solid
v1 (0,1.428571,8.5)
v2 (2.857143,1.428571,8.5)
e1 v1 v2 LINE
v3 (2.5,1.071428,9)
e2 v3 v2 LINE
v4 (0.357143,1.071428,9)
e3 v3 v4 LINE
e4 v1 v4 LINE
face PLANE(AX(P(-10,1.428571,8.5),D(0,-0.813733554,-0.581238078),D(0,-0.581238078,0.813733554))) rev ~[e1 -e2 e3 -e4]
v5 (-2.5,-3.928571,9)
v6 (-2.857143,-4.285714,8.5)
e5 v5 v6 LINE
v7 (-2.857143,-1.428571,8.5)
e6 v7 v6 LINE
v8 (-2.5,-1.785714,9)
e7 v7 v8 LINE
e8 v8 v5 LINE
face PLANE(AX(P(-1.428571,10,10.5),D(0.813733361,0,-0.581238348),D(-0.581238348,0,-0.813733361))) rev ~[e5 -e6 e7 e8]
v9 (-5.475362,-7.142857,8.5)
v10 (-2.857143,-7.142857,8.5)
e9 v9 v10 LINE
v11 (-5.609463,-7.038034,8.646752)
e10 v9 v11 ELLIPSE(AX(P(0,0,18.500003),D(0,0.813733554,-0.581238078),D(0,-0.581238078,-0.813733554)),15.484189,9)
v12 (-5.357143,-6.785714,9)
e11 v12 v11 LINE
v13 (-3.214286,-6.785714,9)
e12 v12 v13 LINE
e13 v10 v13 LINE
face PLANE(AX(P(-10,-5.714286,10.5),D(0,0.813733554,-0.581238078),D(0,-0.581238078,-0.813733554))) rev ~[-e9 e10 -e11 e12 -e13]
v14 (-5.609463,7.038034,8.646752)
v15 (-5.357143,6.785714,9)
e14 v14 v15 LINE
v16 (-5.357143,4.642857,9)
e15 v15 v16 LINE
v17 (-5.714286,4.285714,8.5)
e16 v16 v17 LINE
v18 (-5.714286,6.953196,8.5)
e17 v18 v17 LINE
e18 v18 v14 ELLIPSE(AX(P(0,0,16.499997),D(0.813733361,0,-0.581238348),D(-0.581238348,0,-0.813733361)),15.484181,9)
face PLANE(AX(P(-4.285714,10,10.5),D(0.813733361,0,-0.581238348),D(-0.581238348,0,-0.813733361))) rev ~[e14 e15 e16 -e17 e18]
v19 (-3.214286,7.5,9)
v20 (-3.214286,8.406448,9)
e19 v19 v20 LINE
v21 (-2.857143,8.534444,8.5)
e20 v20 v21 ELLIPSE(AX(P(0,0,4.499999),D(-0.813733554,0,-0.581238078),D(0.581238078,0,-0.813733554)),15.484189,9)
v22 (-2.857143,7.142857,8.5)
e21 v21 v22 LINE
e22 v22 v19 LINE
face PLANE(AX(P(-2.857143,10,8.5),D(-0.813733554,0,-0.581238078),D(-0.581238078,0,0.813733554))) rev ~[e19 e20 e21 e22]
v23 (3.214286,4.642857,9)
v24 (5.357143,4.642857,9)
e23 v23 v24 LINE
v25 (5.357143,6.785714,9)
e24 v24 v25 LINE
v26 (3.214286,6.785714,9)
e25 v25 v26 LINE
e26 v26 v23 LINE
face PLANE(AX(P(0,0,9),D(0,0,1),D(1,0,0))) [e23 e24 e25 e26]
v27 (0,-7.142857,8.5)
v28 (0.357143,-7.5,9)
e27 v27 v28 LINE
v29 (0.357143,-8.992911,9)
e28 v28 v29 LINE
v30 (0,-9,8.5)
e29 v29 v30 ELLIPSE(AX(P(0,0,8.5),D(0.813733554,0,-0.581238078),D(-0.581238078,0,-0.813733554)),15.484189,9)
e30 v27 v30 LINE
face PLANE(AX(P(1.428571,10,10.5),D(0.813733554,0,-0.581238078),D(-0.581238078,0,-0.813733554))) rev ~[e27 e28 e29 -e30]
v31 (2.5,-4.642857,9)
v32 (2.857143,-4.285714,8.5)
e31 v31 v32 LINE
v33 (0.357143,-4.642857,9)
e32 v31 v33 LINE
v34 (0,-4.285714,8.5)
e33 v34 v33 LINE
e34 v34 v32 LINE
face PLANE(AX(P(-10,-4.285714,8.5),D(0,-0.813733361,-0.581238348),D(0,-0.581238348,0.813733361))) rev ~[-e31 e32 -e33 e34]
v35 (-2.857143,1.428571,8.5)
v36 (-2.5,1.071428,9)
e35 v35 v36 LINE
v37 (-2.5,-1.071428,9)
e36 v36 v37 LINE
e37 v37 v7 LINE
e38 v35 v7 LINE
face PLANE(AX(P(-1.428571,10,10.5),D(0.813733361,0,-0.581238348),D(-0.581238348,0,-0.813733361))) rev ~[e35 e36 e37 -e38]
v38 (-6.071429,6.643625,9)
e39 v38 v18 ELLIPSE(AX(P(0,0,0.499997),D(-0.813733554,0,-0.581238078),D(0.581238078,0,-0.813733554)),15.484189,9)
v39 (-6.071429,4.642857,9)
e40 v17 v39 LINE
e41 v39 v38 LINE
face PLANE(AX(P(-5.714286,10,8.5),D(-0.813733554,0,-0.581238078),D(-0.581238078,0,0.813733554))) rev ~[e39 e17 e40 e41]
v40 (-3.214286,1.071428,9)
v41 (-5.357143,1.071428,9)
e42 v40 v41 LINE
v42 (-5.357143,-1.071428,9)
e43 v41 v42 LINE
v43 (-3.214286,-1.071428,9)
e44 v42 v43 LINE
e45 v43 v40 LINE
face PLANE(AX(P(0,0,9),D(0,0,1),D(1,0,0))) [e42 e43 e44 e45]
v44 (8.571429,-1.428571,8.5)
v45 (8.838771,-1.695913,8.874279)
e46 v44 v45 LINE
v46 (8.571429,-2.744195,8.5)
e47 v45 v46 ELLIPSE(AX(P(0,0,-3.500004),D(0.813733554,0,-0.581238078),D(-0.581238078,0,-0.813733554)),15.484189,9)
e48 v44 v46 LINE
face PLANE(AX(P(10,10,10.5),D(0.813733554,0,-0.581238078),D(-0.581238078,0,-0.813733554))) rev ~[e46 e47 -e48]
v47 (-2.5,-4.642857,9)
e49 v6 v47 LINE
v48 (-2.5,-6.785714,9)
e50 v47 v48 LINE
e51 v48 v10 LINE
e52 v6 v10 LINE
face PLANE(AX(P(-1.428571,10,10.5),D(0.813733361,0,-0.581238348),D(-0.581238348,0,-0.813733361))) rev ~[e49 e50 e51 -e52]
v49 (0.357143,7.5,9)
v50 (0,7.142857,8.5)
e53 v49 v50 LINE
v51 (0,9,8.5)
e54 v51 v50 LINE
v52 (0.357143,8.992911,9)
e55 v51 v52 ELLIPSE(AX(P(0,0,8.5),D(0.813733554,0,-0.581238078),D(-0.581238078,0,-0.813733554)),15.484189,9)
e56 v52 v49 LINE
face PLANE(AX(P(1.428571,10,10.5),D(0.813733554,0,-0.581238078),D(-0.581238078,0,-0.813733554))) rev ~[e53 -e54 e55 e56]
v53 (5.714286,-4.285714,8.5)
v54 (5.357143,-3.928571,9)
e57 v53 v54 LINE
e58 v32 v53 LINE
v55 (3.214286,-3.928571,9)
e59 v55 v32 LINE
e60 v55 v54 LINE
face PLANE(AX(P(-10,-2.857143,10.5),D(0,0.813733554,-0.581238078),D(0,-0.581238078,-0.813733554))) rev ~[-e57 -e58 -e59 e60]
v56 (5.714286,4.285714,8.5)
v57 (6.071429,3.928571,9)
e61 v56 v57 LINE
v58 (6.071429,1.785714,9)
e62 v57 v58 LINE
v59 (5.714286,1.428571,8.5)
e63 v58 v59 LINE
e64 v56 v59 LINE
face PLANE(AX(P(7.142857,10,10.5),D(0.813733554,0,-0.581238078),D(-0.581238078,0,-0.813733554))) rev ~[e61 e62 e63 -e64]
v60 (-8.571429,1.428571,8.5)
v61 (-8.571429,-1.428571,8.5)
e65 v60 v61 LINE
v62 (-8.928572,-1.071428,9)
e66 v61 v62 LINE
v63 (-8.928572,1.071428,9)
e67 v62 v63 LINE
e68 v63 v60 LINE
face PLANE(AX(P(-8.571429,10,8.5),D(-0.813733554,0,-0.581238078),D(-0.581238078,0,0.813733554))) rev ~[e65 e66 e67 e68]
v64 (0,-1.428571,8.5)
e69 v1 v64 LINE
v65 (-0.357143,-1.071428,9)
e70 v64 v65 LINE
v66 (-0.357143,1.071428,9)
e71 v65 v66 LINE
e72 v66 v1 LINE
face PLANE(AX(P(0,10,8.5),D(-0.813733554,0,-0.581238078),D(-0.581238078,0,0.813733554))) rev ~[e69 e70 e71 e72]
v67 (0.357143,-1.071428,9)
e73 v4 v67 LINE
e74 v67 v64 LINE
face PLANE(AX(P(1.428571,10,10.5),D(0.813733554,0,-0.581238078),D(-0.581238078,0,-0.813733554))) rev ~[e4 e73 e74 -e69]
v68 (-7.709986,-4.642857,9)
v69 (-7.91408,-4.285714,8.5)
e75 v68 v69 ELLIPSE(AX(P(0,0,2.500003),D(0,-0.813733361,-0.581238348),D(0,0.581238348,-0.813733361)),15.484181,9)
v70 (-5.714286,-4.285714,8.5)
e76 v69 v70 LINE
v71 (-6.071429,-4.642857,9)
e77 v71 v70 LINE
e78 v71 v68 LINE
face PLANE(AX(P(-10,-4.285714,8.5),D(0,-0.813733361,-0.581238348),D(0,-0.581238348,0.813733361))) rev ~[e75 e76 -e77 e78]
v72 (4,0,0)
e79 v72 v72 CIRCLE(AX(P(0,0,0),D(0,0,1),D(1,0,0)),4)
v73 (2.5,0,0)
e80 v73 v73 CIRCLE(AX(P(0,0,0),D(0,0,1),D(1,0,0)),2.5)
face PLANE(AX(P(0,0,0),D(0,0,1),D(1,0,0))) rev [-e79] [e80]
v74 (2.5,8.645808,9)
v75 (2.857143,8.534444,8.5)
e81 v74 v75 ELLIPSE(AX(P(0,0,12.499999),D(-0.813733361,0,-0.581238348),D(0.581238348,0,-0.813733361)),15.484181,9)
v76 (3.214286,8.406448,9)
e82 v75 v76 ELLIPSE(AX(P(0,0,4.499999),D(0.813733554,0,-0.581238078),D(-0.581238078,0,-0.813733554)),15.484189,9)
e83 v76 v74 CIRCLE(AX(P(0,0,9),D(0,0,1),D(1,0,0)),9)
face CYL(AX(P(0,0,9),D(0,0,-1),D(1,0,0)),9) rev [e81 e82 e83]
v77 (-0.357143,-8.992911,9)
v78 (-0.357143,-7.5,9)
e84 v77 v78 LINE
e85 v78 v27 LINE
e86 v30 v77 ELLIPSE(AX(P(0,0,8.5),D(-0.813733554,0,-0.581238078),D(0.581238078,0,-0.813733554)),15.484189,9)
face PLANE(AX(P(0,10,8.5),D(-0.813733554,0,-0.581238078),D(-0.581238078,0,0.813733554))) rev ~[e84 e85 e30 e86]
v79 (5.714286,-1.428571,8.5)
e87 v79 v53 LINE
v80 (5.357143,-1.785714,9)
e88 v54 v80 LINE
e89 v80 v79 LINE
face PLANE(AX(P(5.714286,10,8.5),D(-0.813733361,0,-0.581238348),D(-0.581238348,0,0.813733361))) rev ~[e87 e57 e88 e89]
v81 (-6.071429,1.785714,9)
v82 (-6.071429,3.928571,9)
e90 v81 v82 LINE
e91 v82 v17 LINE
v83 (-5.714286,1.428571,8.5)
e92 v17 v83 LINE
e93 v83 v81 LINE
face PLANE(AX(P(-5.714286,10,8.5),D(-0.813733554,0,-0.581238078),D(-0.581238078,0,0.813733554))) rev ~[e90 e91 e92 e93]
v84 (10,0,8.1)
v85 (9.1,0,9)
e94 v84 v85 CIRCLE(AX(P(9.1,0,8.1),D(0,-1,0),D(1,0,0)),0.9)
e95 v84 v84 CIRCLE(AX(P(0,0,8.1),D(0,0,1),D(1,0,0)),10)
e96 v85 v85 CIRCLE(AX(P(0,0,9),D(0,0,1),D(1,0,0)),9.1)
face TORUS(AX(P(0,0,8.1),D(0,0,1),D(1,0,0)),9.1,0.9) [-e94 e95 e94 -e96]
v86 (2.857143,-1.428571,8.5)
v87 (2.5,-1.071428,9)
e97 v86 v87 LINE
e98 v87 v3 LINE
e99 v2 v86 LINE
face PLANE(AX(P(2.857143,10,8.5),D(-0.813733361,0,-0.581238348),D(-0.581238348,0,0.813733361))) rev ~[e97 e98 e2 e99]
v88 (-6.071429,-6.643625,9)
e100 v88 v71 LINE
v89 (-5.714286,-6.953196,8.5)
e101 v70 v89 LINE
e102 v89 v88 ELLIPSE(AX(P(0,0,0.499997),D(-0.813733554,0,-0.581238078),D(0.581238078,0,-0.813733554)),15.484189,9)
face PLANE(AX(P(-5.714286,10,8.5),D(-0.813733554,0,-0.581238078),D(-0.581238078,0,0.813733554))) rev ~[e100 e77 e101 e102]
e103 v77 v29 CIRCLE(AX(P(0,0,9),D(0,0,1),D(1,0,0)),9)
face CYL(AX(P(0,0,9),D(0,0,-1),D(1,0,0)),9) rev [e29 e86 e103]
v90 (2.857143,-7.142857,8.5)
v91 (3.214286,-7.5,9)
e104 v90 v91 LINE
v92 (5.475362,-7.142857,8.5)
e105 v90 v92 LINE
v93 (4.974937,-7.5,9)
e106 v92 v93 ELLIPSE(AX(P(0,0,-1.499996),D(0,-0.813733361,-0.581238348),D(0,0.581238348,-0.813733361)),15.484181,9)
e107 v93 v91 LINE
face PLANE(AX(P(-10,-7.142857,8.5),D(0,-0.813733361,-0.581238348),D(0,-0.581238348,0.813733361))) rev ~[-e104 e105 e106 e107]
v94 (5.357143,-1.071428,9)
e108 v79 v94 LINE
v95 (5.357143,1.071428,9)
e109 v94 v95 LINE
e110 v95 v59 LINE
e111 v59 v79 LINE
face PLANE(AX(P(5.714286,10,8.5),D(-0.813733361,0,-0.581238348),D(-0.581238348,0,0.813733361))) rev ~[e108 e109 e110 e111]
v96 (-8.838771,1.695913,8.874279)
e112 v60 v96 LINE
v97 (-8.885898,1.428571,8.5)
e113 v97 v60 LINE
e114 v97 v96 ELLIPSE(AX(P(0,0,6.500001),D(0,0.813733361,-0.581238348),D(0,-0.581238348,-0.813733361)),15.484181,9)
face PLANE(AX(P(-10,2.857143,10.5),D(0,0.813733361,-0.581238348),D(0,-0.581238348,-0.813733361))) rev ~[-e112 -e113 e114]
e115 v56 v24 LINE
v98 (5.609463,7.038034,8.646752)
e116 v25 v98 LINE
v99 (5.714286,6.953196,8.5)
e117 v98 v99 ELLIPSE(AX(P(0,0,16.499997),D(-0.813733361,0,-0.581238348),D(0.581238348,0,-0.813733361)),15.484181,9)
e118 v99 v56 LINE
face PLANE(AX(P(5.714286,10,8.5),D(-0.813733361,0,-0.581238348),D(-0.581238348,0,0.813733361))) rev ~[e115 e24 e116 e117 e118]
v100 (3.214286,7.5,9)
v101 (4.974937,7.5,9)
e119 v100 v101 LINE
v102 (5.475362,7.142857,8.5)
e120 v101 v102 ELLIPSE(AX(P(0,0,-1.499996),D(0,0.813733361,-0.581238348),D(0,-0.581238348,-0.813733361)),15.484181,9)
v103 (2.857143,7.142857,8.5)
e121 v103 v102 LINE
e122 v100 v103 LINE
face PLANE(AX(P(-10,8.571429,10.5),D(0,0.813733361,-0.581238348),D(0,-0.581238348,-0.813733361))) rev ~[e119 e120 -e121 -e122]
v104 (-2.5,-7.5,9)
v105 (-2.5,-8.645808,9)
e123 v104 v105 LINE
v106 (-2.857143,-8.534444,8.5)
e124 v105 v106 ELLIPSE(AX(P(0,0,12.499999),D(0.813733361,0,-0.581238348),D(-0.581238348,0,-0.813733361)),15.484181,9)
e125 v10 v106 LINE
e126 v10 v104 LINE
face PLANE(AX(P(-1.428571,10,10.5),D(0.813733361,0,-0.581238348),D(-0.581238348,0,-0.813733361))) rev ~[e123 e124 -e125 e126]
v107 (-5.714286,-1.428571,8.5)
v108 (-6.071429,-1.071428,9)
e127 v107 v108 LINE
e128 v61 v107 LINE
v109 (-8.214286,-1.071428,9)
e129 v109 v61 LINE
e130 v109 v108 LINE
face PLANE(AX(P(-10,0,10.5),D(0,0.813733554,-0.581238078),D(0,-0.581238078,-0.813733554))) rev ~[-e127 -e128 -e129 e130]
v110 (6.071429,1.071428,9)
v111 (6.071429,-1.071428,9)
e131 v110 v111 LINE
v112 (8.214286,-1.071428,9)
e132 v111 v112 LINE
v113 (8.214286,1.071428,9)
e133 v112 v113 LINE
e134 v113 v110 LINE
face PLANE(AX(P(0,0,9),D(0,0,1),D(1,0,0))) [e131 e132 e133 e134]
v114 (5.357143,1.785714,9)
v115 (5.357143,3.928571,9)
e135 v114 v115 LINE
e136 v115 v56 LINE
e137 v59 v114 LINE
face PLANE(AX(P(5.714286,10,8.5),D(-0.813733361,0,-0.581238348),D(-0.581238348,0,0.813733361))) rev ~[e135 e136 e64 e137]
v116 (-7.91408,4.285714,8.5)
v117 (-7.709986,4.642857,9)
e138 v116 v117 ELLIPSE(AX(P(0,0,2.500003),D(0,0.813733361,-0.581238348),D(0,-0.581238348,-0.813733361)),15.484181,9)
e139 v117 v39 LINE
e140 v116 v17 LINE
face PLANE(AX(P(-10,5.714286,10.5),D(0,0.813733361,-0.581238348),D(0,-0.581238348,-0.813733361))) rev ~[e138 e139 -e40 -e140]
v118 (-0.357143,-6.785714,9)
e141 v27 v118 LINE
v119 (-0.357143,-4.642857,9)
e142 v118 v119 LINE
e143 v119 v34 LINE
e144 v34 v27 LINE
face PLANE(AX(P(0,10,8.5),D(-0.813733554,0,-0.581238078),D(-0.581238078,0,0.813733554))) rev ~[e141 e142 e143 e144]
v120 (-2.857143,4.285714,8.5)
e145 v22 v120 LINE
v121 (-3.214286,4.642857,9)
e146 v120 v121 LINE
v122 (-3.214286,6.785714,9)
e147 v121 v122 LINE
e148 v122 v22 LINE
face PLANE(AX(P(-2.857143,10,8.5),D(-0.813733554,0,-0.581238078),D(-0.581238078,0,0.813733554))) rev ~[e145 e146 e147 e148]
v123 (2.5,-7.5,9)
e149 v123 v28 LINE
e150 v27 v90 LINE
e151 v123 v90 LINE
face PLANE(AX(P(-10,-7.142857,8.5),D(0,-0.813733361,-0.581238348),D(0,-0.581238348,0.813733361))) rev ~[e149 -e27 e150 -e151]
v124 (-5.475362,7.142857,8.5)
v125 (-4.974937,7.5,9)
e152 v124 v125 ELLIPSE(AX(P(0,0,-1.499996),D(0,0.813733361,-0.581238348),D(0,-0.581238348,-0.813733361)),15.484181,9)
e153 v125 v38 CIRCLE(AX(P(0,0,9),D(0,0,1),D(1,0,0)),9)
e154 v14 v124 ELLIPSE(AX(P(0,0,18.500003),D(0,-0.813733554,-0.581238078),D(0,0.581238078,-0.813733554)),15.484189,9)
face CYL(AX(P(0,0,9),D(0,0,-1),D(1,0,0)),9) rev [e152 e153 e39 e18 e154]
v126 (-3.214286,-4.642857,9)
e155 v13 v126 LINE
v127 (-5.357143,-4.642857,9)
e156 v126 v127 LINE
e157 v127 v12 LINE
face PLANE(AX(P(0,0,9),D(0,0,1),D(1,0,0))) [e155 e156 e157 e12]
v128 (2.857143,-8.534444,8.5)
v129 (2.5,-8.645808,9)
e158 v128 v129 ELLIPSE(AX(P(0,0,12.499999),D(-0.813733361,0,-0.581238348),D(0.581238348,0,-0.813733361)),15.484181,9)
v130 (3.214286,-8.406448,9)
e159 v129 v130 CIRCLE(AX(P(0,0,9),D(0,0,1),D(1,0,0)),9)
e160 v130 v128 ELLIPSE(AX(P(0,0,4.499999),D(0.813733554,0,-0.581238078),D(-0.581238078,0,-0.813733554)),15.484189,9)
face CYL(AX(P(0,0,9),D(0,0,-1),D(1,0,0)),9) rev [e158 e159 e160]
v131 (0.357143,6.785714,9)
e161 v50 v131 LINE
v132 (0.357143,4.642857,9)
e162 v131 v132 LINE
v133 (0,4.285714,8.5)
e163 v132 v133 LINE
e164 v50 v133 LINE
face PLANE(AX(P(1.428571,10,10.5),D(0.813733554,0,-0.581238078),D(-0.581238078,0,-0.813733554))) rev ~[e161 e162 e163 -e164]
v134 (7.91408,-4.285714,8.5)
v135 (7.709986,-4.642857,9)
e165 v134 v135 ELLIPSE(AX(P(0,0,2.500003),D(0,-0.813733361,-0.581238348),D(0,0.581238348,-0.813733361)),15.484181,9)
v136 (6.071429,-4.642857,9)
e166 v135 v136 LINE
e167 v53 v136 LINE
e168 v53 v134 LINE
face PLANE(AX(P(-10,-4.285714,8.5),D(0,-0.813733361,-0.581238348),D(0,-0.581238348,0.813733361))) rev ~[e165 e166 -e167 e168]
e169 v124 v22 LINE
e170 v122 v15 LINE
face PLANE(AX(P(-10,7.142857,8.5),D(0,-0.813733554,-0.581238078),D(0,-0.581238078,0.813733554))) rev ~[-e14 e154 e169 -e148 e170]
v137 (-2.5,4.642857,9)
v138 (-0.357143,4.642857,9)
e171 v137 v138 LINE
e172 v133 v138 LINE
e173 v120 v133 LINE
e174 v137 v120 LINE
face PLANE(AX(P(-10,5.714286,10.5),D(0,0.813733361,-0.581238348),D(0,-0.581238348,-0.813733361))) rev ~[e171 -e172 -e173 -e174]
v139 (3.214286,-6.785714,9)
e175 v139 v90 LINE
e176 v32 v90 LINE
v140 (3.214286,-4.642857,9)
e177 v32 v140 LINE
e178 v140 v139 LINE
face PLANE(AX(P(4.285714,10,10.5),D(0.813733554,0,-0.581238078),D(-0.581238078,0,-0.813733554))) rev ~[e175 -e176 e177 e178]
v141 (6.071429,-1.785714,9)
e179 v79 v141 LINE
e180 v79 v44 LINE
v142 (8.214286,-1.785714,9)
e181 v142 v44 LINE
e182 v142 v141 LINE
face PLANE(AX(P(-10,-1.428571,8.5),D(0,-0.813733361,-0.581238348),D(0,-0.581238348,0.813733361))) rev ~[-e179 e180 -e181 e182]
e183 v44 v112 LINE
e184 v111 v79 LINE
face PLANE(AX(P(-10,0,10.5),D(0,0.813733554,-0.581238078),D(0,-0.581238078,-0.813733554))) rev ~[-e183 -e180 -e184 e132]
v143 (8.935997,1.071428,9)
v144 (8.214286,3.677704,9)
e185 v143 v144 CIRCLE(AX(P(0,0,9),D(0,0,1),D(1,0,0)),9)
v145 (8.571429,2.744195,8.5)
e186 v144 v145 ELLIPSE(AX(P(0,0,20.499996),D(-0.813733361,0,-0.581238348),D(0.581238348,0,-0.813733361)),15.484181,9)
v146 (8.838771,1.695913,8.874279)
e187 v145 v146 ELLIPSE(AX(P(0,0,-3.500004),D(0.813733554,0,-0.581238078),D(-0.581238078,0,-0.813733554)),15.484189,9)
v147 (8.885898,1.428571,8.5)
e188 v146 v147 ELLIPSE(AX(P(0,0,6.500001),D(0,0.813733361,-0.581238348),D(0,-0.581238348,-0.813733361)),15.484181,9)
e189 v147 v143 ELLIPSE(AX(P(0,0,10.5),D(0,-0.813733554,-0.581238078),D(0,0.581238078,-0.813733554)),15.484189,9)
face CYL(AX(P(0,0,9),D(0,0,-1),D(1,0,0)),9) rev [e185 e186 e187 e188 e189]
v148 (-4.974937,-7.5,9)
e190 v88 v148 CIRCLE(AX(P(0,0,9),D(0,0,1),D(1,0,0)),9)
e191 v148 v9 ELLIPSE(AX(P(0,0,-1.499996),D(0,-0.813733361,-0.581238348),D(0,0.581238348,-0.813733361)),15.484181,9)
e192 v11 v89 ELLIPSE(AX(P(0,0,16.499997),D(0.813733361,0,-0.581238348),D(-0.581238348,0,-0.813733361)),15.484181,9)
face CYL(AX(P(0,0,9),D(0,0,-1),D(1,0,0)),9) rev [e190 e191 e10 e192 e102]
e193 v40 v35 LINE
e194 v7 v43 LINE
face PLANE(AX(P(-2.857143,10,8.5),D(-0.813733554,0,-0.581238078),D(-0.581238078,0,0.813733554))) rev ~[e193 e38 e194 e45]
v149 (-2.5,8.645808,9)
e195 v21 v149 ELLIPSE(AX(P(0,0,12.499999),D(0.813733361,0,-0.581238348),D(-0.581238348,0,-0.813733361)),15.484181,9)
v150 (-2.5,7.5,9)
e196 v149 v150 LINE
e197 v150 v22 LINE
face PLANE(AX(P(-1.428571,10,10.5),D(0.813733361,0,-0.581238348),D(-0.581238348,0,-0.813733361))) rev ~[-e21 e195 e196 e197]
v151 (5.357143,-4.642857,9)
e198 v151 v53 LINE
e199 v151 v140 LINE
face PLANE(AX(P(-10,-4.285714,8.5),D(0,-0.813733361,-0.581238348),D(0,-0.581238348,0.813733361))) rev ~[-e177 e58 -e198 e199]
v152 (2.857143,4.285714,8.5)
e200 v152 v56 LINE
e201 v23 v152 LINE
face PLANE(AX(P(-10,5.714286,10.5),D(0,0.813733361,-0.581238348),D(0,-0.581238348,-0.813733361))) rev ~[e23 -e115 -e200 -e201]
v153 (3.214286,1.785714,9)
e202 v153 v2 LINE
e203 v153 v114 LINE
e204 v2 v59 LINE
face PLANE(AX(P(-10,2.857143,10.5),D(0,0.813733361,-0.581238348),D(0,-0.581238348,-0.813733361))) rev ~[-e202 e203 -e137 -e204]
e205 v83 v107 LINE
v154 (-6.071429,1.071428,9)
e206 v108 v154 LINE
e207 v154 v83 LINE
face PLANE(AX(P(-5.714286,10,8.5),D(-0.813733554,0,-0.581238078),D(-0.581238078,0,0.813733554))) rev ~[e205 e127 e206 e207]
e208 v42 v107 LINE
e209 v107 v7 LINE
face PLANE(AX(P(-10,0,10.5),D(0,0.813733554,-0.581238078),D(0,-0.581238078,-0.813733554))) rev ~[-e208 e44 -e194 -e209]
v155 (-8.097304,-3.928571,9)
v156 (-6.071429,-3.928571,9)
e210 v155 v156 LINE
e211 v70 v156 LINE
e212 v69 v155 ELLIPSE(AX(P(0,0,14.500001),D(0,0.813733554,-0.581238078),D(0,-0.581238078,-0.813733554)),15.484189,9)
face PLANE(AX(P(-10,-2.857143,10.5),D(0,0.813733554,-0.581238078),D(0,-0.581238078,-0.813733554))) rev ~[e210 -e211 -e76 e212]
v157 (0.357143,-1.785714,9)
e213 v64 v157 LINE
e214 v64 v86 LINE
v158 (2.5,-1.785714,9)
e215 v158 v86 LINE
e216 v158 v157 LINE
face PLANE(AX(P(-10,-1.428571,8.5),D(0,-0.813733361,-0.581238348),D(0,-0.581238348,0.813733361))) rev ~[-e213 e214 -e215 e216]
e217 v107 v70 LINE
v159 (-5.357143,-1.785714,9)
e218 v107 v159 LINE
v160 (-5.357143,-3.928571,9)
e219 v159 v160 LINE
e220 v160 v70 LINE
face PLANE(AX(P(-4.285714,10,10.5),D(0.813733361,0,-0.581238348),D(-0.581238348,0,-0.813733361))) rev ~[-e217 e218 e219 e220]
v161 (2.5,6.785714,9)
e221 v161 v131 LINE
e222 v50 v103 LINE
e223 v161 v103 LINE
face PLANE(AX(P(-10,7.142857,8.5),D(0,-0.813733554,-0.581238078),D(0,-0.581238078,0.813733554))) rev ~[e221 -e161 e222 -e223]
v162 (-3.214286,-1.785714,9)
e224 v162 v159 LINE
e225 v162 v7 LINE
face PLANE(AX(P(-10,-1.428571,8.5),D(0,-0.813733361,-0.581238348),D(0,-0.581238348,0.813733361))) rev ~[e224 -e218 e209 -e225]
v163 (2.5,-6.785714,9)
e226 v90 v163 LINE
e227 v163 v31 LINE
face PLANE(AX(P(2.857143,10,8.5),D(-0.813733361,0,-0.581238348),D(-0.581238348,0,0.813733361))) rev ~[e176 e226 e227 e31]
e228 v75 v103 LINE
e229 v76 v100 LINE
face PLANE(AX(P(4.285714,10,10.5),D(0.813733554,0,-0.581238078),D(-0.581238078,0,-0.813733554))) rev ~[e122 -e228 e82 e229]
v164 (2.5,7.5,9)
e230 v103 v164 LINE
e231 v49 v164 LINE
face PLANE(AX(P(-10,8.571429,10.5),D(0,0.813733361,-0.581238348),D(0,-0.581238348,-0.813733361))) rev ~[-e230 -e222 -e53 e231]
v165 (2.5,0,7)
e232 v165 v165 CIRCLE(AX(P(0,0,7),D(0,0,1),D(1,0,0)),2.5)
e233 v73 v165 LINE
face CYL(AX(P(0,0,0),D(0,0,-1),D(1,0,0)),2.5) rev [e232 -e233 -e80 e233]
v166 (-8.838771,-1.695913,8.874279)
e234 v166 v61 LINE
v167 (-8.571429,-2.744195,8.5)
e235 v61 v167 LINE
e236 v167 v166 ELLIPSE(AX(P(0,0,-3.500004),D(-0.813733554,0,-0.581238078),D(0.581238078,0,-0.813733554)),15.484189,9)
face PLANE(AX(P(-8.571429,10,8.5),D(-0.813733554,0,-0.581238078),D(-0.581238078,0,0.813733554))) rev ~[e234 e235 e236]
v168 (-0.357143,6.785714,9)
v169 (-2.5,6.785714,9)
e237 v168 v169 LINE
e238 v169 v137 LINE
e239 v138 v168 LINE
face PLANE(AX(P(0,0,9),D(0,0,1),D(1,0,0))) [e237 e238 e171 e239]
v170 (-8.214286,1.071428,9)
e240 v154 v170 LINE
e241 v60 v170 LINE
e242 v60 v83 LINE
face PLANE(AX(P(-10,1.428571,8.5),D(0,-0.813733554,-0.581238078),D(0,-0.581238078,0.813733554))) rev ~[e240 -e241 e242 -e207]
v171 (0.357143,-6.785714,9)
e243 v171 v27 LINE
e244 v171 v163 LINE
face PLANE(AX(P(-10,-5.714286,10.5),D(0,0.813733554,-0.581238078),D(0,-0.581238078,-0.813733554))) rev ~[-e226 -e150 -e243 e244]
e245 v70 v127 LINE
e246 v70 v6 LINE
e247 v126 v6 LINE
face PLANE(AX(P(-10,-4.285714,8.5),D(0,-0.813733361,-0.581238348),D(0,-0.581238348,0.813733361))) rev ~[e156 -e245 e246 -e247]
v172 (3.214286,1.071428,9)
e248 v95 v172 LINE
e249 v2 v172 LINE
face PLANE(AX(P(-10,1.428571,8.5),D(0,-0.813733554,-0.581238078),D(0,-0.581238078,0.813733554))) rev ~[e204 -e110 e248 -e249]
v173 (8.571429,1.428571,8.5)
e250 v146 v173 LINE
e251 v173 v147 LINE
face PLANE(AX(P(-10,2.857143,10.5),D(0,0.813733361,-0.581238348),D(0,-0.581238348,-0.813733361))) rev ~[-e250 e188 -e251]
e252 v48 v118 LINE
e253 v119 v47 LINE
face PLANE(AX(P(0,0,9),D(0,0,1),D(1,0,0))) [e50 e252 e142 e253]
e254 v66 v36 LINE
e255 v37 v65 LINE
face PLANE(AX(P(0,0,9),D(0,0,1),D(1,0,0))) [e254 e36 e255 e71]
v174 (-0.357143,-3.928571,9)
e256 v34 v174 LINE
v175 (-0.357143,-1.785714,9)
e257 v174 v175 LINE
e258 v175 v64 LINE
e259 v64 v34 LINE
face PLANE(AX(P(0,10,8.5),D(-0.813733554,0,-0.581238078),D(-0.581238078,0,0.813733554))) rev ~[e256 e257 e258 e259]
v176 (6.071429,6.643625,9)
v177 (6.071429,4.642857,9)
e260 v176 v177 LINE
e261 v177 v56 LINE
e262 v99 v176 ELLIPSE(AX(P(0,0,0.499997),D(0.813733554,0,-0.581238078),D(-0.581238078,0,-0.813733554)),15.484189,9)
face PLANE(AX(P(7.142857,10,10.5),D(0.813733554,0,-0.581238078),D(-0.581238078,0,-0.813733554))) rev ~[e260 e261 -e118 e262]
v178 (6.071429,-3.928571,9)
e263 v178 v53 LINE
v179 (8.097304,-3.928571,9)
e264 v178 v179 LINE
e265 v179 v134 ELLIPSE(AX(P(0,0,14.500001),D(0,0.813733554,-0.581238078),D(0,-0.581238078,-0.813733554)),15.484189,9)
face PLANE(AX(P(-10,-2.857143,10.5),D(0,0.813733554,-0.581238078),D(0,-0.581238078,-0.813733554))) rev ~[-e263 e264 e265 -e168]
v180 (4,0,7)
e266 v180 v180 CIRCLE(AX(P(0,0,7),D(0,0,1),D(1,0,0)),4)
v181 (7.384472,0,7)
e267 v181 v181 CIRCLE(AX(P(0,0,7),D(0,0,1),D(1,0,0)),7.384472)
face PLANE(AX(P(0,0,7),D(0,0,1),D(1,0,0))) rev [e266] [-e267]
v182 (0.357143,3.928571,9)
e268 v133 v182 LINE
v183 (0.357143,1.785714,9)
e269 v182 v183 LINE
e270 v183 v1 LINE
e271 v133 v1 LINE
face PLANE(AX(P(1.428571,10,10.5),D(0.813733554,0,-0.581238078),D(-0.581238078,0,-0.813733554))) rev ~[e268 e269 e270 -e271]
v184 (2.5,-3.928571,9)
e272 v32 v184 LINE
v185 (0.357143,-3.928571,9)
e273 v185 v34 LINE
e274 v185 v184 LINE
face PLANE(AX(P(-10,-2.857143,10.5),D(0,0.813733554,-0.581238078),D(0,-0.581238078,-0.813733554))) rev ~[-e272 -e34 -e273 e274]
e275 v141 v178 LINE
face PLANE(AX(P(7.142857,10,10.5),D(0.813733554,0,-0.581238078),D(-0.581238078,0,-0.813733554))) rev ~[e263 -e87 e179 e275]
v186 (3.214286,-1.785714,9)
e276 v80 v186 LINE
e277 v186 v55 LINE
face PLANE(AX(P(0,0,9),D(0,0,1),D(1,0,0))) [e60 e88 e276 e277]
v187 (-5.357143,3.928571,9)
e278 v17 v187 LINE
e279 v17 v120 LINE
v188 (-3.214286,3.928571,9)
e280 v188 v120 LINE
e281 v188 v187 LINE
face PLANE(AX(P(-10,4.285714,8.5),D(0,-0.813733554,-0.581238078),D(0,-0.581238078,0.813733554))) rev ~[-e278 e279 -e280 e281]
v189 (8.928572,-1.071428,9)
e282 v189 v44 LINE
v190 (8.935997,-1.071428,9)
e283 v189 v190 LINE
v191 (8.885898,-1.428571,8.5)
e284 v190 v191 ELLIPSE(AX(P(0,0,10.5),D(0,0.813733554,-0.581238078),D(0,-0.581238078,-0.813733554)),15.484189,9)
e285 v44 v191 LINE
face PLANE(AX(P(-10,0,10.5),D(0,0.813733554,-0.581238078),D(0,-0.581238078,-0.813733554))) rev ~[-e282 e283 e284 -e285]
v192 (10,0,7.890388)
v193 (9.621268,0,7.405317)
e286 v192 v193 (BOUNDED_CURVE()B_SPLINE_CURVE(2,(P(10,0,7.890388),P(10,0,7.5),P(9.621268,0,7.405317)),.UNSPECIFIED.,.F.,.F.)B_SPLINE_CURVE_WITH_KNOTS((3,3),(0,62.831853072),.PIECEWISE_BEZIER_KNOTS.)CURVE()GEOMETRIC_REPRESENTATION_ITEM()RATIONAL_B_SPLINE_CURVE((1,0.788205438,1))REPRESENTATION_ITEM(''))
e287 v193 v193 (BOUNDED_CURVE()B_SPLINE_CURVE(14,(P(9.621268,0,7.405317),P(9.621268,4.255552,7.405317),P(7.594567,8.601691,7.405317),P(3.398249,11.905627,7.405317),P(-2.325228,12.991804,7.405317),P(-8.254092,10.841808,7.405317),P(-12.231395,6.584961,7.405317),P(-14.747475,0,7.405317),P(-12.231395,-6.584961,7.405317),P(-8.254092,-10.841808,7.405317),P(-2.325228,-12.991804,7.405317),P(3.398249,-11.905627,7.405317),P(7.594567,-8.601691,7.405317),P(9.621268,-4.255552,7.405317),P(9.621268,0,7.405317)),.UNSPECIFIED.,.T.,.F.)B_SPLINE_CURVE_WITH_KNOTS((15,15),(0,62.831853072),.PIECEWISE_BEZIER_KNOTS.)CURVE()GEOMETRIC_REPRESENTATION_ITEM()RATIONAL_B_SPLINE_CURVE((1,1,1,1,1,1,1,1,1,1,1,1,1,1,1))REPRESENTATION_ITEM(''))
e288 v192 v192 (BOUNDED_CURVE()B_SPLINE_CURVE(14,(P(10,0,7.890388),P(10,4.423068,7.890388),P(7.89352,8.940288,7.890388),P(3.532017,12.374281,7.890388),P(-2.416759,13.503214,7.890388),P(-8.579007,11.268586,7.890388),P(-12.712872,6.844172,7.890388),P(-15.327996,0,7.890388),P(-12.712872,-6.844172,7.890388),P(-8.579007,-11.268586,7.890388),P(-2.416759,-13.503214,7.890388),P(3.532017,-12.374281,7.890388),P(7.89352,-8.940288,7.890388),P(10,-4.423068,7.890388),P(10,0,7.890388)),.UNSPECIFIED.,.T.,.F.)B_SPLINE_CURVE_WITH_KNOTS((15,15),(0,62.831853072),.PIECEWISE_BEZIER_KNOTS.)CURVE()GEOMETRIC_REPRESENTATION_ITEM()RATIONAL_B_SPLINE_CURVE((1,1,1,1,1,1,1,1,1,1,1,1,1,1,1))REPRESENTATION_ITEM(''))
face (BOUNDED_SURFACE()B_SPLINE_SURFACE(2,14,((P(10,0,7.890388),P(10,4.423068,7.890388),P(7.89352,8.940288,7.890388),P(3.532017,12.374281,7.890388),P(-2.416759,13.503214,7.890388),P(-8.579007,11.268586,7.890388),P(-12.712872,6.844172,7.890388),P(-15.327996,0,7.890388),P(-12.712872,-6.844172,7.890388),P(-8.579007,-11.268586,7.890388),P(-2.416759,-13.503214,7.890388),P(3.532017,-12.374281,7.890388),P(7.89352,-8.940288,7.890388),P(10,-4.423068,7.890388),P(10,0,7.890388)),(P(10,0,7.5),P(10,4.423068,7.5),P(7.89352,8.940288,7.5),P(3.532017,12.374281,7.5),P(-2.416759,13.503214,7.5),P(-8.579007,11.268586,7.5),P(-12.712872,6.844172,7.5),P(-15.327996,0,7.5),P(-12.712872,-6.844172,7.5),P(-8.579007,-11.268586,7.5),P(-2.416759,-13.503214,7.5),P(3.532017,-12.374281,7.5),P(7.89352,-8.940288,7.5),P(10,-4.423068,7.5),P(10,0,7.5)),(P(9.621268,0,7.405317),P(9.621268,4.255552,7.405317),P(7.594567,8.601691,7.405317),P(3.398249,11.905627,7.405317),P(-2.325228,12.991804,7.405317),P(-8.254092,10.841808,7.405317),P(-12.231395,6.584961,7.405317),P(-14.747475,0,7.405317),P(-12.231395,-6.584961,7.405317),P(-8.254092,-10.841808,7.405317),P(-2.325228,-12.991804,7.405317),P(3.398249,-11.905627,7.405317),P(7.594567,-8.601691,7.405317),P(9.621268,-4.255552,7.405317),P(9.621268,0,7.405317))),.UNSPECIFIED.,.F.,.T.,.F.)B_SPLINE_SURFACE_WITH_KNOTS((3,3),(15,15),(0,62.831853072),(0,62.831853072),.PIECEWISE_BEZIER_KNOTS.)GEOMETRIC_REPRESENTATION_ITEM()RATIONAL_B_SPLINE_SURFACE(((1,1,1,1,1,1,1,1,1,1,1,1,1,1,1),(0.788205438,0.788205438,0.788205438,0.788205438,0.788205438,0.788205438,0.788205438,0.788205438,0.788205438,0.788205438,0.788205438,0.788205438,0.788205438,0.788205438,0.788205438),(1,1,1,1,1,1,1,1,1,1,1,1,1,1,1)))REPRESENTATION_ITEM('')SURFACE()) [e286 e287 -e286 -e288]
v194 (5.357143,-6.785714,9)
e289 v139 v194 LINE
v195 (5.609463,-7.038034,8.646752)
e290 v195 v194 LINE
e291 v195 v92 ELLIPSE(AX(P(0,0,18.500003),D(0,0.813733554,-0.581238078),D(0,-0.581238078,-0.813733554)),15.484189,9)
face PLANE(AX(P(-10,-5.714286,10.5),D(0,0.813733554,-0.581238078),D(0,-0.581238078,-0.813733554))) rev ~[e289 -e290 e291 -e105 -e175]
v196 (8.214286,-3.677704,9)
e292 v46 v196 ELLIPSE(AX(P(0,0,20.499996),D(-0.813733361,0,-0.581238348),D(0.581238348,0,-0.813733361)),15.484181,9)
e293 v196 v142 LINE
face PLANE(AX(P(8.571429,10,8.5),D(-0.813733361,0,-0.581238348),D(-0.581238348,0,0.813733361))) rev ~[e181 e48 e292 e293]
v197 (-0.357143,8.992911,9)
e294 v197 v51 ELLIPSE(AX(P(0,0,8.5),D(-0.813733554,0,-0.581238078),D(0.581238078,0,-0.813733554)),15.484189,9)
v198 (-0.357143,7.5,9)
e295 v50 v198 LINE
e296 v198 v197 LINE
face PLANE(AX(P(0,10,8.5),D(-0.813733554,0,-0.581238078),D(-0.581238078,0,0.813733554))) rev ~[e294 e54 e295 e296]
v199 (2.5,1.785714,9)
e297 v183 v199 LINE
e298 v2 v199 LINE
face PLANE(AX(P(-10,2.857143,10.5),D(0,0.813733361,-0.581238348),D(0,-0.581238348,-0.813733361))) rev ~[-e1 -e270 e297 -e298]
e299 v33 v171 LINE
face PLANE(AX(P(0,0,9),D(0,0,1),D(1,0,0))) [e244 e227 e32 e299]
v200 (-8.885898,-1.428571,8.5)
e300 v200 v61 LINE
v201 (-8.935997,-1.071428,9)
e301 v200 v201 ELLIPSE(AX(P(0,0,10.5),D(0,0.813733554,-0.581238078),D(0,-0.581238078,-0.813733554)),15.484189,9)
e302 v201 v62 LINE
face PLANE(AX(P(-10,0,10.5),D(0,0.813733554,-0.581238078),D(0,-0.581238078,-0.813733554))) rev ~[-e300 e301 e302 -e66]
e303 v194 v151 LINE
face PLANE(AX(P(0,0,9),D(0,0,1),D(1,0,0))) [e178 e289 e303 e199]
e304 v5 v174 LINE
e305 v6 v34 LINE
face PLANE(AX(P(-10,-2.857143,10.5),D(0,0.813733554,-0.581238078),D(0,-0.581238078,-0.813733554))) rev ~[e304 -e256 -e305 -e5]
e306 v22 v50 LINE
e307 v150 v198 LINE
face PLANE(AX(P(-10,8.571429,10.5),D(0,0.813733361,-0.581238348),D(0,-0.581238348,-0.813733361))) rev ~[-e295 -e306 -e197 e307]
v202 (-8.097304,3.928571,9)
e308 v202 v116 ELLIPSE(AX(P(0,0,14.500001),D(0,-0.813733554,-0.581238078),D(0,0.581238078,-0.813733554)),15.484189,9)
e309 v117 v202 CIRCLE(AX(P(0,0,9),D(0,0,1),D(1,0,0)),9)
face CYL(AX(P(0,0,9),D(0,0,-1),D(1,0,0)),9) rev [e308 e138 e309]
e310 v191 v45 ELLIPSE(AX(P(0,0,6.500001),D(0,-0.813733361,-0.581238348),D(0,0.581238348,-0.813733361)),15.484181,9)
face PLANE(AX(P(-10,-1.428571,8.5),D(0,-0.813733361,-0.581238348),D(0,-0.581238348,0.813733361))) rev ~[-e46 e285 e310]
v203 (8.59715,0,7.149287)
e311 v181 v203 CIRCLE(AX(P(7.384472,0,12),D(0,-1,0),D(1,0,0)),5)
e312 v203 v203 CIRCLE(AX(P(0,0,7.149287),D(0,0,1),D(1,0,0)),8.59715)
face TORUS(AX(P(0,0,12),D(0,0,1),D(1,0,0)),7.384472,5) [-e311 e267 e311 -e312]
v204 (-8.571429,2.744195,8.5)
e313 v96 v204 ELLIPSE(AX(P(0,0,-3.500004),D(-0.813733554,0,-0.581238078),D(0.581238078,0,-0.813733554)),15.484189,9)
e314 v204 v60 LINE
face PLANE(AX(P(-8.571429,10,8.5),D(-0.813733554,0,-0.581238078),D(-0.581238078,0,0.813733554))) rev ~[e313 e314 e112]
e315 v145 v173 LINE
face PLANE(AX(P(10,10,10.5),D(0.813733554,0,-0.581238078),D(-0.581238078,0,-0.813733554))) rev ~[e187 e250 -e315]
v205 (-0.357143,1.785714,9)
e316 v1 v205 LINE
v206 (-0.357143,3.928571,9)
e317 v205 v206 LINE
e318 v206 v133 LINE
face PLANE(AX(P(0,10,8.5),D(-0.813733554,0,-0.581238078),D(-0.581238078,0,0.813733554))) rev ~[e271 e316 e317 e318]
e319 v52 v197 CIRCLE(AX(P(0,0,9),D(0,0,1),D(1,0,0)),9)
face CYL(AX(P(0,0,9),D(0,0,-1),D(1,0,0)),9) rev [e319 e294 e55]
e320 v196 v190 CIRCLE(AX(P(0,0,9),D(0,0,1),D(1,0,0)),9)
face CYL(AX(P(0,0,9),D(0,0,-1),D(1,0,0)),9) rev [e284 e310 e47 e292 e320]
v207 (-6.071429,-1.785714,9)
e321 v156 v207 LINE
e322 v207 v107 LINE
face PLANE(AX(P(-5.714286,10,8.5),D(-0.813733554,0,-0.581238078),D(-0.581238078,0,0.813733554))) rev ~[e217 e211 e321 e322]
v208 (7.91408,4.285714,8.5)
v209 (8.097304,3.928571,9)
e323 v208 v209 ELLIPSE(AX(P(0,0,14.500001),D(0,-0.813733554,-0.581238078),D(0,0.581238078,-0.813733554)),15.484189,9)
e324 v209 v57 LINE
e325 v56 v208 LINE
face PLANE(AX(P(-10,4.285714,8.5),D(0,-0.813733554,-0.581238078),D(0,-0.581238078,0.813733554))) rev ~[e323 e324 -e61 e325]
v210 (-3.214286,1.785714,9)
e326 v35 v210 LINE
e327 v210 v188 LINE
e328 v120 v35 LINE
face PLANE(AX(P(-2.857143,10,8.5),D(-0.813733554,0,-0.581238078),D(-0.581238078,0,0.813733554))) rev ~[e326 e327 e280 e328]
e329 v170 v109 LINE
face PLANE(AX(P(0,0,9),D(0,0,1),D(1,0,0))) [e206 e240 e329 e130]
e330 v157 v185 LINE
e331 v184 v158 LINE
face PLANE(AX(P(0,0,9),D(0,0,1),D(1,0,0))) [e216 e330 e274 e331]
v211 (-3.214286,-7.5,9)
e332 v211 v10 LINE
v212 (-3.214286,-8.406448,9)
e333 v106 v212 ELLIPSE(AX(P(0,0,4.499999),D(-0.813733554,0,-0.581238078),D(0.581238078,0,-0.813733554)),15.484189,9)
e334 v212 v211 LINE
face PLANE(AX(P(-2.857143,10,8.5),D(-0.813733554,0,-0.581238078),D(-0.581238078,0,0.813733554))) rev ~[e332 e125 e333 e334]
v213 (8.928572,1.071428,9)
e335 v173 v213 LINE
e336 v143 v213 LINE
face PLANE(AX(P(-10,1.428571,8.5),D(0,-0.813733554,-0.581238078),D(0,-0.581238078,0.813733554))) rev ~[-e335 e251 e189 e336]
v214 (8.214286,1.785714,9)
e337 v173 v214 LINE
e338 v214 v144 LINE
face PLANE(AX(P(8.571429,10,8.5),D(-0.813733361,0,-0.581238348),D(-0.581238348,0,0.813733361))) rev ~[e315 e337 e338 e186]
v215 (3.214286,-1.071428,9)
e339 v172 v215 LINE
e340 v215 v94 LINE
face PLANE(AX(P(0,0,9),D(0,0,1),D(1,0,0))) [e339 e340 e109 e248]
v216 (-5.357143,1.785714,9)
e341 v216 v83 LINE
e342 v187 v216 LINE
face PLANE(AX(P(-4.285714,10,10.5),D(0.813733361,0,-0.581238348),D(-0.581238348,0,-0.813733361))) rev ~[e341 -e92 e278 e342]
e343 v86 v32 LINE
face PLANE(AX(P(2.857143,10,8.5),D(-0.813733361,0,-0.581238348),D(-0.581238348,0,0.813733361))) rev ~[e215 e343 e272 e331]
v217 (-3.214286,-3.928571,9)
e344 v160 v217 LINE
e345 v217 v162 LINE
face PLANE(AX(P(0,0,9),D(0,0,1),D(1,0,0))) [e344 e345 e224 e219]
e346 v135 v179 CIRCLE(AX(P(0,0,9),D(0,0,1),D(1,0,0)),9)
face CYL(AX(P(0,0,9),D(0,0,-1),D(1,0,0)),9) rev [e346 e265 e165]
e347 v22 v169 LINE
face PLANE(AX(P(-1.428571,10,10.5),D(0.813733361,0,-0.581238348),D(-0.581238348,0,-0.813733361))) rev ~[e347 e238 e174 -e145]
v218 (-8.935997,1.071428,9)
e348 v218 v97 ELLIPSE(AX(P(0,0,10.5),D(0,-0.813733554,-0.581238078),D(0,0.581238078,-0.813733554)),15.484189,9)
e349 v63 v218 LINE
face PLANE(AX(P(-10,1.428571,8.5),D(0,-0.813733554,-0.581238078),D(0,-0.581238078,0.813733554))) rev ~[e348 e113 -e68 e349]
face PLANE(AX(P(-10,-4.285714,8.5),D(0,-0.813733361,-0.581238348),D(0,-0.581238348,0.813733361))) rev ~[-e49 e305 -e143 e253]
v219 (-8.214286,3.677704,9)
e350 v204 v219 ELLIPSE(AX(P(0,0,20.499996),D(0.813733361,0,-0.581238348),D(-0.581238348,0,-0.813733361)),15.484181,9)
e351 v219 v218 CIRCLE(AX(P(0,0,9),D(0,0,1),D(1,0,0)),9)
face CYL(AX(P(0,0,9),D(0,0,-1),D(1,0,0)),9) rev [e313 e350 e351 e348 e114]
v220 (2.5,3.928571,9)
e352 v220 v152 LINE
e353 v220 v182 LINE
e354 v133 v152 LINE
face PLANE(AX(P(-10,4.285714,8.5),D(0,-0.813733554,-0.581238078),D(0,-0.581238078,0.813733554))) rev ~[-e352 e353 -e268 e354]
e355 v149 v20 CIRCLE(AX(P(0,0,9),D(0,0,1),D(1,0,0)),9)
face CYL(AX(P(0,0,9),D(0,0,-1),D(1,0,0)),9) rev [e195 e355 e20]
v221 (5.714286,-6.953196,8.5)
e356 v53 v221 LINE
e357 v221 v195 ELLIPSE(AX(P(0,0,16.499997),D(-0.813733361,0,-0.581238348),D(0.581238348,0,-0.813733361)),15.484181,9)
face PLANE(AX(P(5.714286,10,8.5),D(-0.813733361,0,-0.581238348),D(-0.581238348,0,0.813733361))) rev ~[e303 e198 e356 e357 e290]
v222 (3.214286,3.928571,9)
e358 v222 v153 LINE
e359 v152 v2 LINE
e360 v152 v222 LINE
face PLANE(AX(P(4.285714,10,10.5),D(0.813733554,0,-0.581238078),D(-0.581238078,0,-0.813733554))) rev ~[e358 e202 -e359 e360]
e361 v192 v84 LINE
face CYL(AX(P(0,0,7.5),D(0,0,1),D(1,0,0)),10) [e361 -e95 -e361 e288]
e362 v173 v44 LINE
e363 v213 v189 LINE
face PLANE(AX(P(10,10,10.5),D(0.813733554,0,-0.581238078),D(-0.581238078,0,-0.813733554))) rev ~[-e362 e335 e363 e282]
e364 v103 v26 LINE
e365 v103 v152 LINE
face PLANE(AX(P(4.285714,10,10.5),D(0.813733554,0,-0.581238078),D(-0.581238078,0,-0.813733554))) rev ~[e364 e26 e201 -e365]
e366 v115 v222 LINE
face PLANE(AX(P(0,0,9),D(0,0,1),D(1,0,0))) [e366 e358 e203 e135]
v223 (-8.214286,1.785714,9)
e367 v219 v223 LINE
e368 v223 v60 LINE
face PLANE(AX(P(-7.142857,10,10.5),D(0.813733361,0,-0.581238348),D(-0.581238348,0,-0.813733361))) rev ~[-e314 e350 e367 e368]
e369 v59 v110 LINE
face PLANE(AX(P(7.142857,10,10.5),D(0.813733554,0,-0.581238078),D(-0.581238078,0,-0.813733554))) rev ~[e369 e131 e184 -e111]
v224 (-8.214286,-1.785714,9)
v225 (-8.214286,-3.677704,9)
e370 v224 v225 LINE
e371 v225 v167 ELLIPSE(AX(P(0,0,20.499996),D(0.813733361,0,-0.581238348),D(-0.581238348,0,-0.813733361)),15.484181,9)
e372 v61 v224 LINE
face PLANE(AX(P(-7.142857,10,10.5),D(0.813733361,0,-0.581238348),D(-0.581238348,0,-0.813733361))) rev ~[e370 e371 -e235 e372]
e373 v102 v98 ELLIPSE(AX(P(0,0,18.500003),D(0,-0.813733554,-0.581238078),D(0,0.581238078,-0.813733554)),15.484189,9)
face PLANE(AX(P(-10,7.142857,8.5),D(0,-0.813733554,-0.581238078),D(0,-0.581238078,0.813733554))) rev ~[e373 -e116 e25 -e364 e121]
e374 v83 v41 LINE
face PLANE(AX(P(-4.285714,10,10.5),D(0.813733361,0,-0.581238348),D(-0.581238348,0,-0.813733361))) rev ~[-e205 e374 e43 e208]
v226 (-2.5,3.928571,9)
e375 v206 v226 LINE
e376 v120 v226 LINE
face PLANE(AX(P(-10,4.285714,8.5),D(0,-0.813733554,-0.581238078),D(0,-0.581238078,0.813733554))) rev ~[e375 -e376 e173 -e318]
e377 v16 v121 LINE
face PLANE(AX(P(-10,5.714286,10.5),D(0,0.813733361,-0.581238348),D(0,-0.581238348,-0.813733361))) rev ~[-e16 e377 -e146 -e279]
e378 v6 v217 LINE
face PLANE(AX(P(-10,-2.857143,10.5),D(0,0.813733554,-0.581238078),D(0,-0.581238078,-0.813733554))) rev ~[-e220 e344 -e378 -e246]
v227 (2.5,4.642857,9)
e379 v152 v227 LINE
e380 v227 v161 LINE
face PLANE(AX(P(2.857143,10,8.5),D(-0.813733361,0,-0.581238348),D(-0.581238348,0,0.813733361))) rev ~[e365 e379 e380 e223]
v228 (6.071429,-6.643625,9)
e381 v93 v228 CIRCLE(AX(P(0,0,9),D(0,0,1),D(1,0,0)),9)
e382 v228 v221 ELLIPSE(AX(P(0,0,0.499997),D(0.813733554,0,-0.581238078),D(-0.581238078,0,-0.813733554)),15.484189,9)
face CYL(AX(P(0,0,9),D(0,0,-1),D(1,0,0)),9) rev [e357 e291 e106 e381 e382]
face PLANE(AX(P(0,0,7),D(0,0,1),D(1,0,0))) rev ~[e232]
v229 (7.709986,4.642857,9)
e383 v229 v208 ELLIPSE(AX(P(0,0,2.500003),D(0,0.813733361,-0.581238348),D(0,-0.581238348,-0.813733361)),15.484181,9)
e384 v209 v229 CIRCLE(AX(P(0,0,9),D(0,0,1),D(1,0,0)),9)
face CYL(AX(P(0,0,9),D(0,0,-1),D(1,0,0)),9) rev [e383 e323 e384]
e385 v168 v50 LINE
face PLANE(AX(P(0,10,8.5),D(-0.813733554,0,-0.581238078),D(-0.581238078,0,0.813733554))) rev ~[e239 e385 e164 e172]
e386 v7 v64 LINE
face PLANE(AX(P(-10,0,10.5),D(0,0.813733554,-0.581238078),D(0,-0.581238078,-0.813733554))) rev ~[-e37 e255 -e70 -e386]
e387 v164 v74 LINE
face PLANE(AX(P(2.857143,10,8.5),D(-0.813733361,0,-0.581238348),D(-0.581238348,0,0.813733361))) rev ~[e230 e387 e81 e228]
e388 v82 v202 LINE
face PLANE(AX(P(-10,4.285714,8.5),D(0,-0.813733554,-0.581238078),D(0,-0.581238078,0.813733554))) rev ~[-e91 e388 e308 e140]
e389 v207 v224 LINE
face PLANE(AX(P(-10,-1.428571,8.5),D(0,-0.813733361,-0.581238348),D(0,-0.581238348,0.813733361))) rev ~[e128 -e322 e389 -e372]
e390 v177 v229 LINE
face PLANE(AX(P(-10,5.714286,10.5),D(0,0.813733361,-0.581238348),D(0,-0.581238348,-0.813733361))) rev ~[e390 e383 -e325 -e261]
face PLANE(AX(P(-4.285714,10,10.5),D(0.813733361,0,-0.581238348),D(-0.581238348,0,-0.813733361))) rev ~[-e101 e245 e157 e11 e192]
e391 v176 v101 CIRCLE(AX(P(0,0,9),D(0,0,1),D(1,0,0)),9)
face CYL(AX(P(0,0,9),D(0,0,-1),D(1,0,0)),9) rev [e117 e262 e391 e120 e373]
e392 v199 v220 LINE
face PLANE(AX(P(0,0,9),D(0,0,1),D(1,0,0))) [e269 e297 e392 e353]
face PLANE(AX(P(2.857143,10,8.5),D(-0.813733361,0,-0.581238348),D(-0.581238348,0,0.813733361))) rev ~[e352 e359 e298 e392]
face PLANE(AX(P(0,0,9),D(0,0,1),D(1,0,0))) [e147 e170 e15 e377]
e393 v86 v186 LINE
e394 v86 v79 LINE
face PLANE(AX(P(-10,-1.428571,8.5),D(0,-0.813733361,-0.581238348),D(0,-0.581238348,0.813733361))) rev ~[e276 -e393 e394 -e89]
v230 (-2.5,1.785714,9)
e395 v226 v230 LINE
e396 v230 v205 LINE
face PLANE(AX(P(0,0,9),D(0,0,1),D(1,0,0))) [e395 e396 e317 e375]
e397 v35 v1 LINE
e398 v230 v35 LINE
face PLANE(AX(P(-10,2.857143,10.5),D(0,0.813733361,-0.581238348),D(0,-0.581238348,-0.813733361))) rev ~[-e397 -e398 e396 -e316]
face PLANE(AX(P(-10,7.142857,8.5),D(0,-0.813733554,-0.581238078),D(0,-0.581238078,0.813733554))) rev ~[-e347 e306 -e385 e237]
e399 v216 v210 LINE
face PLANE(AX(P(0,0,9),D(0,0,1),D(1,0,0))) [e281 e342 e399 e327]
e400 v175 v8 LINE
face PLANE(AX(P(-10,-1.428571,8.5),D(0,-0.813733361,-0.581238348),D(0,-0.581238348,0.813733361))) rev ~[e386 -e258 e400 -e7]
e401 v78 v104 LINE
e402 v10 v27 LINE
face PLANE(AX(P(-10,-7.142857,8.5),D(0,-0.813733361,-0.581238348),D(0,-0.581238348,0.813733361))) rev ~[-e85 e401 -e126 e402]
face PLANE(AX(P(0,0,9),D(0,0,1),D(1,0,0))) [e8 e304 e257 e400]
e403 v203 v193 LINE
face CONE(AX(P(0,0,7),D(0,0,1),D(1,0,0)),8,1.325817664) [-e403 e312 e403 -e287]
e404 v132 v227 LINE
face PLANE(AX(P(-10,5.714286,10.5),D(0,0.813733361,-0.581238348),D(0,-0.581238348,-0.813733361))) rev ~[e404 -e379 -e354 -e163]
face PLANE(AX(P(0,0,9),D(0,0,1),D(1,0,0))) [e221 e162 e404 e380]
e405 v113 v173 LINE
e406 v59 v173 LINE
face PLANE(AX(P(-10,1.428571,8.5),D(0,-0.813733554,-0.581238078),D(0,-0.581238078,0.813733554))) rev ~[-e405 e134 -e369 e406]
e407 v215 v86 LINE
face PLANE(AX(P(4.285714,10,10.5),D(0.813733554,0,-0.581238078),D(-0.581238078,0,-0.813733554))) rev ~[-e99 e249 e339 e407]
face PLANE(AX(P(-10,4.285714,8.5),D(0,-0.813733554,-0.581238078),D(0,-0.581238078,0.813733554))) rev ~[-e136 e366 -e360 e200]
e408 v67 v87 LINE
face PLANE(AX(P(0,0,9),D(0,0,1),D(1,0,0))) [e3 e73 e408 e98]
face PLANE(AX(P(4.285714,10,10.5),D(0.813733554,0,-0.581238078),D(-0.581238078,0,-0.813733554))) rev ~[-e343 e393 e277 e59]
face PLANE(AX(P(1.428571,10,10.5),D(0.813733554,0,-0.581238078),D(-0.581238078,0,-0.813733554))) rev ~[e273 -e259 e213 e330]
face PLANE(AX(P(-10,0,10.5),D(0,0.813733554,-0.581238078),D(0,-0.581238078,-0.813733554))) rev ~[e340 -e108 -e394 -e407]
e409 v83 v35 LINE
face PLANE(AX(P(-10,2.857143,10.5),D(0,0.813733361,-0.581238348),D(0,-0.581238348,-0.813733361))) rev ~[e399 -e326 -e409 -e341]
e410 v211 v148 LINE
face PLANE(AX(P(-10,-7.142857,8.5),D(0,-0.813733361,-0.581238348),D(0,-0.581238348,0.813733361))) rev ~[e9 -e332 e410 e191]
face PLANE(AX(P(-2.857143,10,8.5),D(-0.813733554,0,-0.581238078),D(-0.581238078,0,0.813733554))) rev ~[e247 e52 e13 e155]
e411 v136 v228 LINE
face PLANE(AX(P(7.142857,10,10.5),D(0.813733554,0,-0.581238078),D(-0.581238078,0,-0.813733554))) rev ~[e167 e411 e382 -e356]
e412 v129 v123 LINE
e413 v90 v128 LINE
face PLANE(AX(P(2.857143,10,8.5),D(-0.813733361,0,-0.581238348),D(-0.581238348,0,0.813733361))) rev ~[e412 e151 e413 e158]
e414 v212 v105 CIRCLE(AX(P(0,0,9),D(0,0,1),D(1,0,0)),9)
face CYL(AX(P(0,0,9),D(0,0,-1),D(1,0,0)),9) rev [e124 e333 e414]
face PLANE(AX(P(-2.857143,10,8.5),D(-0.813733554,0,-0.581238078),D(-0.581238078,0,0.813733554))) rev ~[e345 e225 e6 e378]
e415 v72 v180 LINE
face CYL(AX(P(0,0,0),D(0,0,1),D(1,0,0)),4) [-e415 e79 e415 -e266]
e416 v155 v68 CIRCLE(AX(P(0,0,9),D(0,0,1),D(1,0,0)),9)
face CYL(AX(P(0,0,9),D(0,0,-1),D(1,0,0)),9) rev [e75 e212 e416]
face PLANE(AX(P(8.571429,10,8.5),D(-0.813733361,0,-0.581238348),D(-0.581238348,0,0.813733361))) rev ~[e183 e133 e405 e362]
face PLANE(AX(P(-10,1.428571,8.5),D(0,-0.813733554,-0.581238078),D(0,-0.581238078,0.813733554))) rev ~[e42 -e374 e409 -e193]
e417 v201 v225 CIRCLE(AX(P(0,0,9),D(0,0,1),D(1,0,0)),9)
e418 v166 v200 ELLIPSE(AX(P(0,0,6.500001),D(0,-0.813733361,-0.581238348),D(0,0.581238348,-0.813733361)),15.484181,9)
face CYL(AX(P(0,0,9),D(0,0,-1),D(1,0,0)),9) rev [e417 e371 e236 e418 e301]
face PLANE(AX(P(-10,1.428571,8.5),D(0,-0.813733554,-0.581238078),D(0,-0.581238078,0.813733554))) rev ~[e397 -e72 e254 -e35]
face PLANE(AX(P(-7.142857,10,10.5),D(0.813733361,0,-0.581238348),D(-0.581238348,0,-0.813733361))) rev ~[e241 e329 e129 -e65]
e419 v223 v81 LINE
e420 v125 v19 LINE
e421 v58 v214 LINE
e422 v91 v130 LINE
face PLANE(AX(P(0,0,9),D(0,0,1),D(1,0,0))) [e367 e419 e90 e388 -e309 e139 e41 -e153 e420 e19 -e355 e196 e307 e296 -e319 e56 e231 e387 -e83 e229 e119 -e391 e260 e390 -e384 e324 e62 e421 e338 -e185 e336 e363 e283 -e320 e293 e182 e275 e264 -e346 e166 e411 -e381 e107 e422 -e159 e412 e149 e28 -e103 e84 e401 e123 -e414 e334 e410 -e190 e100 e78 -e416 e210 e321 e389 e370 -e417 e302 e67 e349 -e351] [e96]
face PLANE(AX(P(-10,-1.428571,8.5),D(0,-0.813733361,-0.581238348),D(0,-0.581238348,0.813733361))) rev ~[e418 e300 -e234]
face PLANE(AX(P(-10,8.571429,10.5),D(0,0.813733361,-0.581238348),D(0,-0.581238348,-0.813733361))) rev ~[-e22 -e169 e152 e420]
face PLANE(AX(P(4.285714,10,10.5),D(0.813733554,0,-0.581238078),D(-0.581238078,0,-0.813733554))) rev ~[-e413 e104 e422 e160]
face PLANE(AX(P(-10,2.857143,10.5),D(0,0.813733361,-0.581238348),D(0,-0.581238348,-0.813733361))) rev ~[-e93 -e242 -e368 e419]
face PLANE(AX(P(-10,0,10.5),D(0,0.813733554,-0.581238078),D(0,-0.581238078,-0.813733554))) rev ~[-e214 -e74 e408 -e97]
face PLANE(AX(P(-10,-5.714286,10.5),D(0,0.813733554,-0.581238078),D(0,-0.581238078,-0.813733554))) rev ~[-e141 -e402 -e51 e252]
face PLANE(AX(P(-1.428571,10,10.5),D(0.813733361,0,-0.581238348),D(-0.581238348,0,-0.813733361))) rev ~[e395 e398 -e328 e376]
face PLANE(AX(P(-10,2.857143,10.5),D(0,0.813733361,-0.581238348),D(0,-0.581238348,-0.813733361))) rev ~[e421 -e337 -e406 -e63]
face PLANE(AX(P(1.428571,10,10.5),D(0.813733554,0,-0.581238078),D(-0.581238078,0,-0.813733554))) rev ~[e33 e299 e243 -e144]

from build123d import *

# Parameters (mm, degrees)
CYLINDER001_R     = 2.5
CYLINDER001_DEPTH = 7
FILLET_1_R        = 5
FILLET_2_R        = 0.9
FILLET_3_R        = 0.5
CYLINDER_R        = 9
CYLINDER_DEPTH    = 1
PAD_DEPTH         = 20
PAD001_DEPTH      = 20


with BuildPart() as handle_pocket:
    # Cylinder001 → Cylinder001 (new body)
    with BuildSketch(Plane.XY):
        Circle(CYLINDER001_R)
    extrude(amount=CYLINDER001_DEPTH)


with BuildPart() as base_fillet:
    # Sketch → Revolution (revolve)
    with BuildSketch(Plane.XZ):
        Polygon((0, 0), (4, 0), (4, 7), (8, 7), (10, 7.5), (10, 9), (9, 9), (9, 8), (0, 8), align=None)
    revolve(axis=Axis((0, 0, 0), (0, 0, 1)))

    # Fillet 1
    fillet_1_edges = [base_fillet.edges().sort_by_distance(p)[0] for p in [
        (-8, 0, 7),
    ]]
    fillet(fillet_1_edges, radius=FILLET_1_R)

    # Fillet 2
    fillet_2_edges = [base_fillet.edges().sort_by_distance(p)[0] for p in [
        (-10, 0, 9),
    ]]
    fillet(fillet_2_edges, radius=FILLET_2_R)

    # Fillet 3
    fillet_3_edges = [base_fillet.edges().sort_by_distance(p)[0] for p in [
        (-10, 0, 7.5),
    ]]
    fillet(fillet_3_edges, radius=FILLET_3_R)


with BuildPart() as knurling_cylinder:
    # Cylinder → Cylinder (new body)
    with BuildSketch(Plane.XY.offset(4)):
        Circle(CYLINDER_R)
    extrude(amount=CYLINDER_DEPTH)


with BuildPart() as knurling_xz_pad:
    # MirroredSketch → Pad (new body)
    with BuildSketch(Plane.XZ.offset(-10)):
        Polygon((7.142857, 6.5), (5.714286, 4.5), (4.285714, 6.5), (2.857143, 4.5), (1.428571, 6.5), (0, 4.5), (-1.428571, 6.5), (-2.857143, 4.5), (-4.285714, 6.5), (-5.714286, 4.5), (-7.142857, 6.5), (-8.571429, 4.5), (-10, 6.5), (-10, 7.5), (10, 7.5), (10, 6.5), (8.571429, 4.5), align=None)
    extrude(amount=PAD_DEPTH)


with BuildPart() as handle:
    # MirroredSketch002 → Pad001 (new body)
    with BuildSketch(Plane.YZ.offset(-10)):
        Polygon((7.142857, 4.5), (5.714286, 6.5), (4.285714, 4.5), (2.857143, 6.5), (1.428571, 4.5), (0, 6.5), (-1.428571, 4.5), (-2.857143, 6.5), (-4.285714, 4.5), (-5.714286, 6.5), (-7.142857, 4.5), (-8.571429, 6.5), (-10, 4.5), (-10, 3.5), (10, 3.5), (10, 4.5), (8.571429, 6.5), align=None)
    extrude(amount=PAD001_DEPTH)

    # Cut: cut Knurling XZ Pad
    add(knurling_xz_pad.part, mode=Mode.SUBTRACT)

    # Common: intersect Knurling Cylinder
    add(knurling_cylinder.part, mode=Mode.INTERSECT)


with BuildPart() as handle_1:
    # Common placement: moved
    add(handle.part.moved(Location((0, 0, 4))))

    # Fusion: union Base Fillet
    add(base_fillet.part)

    # Cut001: cut Handle Pocket
    add(handle_pocket.part, mode=Mode.SUBTRACT)


solid = handle_1.part
